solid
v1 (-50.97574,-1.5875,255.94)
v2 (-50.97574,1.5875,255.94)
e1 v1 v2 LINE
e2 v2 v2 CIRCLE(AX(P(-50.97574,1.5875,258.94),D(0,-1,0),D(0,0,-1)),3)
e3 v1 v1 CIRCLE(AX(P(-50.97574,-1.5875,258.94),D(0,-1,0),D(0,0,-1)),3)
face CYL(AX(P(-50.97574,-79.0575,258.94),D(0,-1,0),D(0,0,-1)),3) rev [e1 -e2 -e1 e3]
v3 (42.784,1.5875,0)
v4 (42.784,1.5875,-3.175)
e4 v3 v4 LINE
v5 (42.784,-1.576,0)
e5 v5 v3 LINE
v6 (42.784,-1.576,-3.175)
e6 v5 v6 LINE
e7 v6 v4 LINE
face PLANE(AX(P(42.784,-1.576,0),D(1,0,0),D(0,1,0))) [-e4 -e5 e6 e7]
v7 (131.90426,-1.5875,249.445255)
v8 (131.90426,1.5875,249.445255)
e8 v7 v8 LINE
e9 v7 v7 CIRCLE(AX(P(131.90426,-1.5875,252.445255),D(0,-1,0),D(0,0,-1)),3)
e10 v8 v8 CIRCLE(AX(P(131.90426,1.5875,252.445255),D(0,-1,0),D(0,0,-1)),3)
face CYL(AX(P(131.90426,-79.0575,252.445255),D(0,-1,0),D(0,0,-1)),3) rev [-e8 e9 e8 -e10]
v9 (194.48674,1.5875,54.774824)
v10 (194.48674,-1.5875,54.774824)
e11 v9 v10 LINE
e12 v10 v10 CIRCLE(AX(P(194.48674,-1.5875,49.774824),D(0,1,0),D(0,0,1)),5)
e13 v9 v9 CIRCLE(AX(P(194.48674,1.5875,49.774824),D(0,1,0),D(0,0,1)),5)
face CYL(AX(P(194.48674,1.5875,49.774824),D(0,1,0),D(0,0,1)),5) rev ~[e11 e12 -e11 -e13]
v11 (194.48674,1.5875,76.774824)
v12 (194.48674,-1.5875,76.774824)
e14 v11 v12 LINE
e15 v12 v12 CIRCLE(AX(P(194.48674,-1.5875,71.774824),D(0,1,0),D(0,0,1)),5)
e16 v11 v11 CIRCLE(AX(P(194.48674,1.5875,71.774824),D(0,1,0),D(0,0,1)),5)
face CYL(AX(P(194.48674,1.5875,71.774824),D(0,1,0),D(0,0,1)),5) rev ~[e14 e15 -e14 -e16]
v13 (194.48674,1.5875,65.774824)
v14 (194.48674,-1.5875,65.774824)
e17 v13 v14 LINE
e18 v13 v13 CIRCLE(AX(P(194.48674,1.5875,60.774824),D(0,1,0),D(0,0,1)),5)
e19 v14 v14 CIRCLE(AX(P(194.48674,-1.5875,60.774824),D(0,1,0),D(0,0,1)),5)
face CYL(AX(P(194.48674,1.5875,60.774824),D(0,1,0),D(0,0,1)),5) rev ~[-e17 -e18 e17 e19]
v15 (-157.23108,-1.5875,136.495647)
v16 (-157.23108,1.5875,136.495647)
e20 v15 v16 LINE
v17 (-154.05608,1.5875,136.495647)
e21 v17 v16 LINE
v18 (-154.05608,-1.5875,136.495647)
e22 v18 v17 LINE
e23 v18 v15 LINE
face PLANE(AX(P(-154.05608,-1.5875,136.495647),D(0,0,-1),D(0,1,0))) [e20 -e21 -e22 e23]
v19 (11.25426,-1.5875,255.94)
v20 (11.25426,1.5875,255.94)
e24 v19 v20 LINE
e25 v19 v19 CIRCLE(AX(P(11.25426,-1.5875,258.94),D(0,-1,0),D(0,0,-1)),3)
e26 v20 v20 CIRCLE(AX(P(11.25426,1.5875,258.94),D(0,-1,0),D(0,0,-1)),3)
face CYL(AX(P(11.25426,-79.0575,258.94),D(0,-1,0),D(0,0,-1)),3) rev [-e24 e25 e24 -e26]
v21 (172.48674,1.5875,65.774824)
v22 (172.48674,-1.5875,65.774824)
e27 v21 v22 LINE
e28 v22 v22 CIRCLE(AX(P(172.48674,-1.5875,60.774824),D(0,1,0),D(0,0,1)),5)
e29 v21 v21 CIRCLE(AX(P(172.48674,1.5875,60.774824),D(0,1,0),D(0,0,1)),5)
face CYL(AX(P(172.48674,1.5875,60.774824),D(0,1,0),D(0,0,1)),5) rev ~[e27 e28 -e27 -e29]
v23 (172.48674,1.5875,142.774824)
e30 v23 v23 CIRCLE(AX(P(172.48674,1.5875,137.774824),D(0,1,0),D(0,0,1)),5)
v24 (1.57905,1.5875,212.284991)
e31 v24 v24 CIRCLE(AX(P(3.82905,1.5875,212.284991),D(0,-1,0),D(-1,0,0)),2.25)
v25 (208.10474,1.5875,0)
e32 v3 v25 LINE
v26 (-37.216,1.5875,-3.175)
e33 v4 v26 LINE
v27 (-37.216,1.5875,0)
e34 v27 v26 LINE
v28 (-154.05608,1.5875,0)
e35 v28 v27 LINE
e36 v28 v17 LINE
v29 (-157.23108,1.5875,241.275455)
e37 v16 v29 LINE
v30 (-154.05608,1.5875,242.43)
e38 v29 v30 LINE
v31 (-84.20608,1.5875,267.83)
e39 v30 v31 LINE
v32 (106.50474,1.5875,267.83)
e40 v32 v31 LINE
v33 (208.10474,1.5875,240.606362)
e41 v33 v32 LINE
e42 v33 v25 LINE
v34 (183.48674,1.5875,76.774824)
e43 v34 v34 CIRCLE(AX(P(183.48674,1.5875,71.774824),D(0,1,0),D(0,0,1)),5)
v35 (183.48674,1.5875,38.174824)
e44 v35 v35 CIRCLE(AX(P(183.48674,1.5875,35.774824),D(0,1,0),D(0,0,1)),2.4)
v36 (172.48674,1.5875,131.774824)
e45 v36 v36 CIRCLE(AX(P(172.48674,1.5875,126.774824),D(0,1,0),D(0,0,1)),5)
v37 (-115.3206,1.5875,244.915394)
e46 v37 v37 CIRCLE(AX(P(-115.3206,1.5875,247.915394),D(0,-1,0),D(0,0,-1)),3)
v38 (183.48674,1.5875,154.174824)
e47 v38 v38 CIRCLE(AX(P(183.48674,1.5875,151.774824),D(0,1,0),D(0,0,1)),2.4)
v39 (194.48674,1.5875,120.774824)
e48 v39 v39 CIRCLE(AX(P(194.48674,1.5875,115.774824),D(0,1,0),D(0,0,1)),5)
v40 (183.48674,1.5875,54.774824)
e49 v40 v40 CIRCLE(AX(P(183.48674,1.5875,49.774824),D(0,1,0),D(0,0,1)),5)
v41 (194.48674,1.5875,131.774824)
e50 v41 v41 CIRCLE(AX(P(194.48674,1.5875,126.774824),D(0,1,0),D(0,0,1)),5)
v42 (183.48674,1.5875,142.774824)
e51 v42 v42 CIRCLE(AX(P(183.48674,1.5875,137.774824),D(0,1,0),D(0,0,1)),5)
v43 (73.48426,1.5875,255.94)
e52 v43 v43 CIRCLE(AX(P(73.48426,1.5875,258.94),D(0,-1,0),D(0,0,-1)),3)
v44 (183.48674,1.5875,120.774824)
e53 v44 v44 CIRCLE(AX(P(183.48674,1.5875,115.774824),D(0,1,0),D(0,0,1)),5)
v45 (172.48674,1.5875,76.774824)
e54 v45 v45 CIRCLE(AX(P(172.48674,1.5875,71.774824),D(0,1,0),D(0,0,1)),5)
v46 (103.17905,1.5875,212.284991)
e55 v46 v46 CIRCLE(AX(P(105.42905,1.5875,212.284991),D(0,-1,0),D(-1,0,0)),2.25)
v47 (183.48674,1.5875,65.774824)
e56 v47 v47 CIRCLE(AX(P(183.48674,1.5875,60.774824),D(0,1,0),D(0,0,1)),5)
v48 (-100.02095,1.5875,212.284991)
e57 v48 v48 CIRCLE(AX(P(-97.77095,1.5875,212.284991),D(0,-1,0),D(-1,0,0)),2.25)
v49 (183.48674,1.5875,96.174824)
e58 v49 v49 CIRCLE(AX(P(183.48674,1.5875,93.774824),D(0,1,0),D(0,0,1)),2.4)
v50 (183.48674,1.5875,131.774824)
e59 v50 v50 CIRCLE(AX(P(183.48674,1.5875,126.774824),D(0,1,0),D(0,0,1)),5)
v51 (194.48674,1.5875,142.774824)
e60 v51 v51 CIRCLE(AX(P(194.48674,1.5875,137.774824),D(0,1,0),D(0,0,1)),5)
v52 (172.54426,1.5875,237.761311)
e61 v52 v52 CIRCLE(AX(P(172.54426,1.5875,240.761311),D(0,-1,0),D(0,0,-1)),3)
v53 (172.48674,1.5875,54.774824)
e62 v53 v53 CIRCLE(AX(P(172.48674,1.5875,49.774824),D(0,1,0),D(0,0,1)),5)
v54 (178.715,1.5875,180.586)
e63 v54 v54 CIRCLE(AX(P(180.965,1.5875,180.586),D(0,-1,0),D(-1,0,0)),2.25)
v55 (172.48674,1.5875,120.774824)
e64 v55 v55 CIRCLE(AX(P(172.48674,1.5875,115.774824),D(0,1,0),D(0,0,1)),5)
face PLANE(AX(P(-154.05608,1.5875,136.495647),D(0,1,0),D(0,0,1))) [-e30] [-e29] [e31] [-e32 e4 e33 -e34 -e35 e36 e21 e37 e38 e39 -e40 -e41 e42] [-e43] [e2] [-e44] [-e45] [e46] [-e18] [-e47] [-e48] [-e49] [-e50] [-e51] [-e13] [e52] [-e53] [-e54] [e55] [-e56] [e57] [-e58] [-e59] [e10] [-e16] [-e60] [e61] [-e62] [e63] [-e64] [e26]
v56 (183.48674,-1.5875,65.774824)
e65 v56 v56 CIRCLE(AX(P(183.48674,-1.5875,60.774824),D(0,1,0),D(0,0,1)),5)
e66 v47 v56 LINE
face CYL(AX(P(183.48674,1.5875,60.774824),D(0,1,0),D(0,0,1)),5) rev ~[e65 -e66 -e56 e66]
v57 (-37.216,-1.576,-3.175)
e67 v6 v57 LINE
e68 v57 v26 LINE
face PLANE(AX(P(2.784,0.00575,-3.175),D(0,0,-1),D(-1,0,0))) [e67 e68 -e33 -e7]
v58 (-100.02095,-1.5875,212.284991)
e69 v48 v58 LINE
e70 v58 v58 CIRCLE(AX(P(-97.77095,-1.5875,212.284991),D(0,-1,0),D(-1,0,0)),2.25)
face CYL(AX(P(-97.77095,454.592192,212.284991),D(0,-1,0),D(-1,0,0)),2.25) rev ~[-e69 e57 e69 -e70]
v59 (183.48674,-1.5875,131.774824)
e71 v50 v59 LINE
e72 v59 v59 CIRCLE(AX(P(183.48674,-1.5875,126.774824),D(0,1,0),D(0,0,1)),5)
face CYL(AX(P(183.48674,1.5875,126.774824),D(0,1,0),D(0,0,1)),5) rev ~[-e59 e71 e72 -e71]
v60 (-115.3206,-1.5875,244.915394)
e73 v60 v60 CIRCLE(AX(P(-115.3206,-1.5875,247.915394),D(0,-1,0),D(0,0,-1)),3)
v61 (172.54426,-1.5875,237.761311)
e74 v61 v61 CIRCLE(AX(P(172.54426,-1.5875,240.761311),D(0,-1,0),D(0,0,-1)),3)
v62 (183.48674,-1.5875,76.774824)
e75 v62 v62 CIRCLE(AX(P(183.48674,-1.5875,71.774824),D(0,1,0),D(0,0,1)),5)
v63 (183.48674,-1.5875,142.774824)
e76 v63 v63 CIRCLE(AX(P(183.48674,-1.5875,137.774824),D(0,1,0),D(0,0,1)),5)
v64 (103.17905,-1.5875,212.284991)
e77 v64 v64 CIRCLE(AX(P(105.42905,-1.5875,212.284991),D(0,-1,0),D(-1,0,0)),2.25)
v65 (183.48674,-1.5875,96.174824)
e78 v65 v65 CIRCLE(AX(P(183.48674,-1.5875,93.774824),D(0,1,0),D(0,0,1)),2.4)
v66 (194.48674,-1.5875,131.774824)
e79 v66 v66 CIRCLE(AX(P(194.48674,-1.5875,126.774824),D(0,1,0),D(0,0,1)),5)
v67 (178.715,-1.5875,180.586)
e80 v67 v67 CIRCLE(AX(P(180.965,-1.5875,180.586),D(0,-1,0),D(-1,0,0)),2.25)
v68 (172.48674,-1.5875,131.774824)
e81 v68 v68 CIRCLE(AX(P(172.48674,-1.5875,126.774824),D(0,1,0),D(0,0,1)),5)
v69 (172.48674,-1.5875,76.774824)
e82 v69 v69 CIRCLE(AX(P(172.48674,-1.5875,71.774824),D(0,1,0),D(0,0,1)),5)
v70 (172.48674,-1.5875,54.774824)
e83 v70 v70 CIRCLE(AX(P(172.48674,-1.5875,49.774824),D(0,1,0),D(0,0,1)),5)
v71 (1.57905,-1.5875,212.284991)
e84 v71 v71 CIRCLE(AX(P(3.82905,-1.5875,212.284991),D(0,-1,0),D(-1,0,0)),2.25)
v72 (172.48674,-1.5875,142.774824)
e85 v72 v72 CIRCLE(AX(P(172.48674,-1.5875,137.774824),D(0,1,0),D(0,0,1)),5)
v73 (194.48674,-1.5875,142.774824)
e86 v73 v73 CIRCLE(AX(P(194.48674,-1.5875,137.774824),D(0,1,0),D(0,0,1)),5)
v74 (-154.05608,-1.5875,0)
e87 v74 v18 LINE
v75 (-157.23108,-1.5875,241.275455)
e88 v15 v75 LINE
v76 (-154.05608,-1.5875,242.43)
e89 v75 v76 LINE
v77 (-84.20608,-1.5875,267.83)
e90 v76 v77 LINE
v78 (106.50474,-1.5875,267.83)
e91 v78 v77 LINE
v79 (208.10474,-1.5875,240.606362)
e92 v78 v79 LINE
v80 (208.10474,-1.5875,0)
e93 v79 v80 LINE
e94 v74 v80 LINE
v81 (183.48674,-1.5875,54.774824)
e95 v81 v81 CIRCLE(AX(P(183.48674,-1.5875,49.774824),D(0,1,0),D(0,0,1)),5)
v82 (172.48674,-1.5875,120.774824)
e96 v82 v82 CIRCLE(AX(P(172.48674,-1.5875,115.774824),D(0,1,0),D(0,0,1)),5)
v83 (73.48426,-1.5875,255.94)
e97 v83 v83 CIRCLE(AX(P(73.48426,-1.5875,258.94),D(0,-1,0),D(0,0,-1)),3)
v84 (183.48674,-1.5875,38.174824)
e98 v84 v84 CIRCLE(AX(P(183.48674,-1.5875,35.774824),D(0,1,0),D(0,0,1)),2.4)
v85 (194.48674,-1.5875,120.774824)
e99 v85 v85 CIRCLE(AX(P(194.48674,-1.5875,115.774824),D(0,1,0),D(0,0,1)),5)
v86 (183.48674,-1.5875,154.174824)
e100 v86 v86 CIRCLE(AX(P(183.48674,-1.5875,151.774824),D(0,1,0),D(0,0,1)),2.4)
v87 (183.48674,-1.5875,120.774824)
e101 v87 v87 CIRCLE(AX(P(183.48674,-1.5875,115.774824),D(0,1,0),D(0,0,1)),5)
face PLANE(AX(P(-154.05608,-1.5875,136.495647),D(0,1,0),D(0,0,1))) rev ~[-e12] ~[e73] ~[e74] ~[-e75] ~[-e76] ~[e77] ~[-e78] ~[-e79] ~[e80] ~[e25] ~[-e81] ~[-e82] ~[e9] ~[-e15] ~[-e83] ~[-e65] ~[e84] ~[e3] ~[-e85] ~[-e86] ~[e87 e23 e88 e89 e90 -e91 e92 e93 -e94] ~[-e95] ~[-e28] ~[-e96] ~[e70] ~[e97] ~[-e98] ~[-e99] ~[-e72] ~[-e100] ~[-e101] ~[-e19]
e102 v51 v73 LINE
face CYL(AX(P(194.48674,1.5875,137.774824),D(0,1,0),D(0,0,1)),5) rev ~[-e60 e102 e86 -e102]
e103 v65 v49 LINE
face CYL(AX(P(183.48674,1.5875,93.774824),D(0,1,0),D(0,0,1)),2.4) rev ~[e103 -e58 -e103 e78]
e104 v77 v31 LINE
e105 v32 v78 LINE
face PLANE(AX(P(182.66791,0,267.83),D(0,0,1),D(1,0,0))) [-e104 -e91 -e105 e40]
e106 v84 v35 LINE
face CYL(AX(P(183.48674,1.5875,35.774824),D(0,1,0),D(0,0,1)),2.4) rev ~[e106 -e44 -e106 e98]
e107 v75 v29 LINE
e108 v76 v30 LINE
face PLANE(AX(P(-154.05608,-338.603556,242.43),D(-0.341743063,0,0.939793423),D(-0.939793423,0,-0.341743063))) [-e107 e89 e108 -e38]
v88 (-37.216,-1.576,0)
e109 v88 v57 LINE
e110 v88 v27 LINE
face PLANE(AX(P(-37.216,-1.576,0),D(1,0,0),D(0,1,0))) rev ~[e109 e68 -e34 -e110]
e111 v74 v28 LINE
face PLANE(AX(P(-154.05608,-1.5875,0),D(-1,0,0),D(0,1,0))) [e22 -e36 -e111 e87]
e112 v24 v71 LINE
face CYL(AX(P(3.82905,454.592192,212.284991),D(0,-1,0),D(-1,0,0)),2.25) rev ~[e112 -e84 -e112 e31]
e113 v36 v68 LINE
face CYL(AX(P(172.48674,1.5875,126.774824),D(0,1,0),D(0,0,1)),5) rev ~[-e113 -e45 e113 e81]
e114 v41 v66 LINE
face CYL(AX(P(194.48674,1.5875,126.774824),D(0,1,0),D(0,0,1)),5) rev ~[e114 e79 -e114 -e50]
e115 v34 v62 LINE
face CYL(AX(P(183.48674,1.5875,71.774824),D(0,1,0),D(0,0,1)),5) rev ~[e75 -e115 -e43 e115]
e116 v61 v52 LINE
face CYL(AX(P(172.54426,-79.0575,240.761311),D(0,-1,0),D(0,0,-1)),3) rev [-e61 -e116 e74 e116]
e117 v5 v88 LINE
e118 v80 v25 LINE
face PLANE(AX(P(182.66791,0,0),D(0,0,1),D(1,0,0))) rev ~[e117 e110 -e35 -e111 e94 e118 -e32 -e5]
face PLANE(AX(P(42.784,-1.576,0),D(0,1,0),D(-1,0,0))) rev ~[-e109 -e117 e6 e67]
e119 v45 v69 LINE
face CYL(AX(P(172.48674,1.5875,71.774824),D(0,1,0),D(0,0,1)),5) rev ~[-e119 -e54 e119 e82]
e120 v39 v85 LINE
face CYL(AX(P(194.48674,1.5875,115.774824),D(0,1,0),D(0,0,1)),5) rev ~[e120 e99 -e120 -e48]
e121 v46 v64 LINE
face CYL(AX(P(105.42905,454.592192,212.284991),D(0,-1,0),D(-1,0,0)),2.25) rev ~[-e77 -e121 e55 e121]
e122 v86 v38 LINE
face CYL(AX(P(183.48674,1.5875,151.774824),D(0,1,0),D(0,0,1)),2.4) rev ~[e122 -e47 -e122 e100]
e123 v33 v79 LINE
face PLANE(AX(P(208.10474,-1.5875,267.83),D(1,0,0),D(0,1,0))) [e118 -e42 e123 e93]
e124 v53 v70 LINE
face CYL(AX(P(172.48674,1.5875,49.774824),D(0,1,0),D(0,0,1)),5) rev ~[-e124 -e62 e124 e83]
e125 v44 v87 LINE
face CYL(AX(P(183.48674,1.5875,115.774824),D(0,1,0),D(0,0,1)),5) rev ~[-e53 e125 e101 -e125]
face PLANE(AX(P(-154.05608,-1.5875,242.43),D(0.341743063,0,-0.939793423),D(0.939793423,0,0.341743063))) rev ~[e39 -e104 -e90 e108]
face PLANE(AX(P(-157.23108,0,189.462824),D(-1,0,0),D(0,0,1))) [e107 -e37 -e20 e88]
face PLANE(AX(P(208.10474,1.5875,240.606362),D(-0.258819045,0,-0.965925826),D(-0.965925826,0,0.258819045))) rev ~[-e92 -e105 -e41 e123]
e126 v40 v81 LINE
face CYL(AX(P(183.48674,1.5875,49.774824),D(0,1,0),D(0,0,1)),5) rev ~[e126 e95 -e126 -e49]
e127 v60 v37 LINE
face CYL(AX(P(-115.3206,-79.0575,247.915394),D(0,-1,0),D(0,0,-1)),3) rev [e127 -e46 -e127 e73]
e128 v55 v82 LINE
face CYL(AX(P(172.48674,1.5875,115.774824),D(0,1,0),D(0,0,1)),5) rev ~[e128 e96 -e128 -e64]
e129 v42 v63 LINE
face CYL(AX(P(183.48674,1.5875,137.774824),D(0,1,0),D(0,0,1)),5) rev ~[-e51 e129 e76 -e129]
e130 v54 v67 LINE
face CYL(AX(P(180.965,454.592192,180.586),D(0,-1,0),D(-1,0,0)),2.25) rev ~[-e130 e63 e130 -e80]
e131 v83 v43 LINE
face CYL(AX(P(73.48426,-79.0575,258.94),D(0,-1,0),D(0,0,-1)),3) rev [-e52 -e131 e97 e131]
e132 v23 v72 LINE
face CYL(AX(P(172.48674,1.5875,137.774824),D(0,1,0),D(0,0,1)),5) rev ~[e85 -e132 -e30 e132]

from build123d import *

# Parameters (mm, degrees)
SKETCH1_W                 = 308.11216
SKETCH1_H                 = 3.175
BOSS_EXTRUDE1_DEPTH       = 267.83
SKETCH3_W                 = 267.83
SKETCH3_H                 = 3.175
BOSS_EXTRUDE3_DEPTH       = 3.175
SKETCH4_W                 = 50.87366
SKETCH4_H                 = 3.175
BOSS_EXTRUDE4_DEPTH       = 267.83
CUT_EXTRUDE1_DEPTH        = 340.191055801
CUT_EXTRUDE3_DEPTH        = 340.191055801
SKETCH19_R                = 5
CUT_EXTRUDE5_DEPTH        = 340.191055801
LPATTERN1_COUNT           = 3
LPATTERN1_PITCH           = 11
LPATTERN2_COUNT           = 3
LPATTERN2_PITCH           = 11
LPATTERN2_COPY_1_SKETCH_R = 5
LPATTERN2_COPY_1_DEPTH    = 340.191055801
LPATTERN2_COPY_2_SKETCH_R = 5
LPATTERN2_COPY_2_DEPTH    = 340.191055801
LPATTERN2_COPY_3_SKETCH_R = 5
LPATTERN2_COPY_3_DEPTH    = 340.191055801
LPATTERN2_COPY_4_SKETCH_R = 5
LPATTERN2_COPY_4_DEPTH    = 340.191055801
LPATTERN3_COUNT           = 2
LPATTERN3_PITCH           = 66
LPATTERN3_COPY_1_SKETCH_R = 5
LPATTERN3_COPY_1_DEPTH    = 340.191055801
LPATTERN3_COPY_2_SKETCH_R = 5
LPATTERN3_COPY_2_DEPTH    = 340.191055801
LPATTERN3_COPY_3_SKETCH_R = 5
LPATTERN3_COPY_3_DEPTH    = 340.191055801
LPATTERN3_COPY_4_SKETCH_R = 5
LPATTERN3_COPY_4_DEPTH    = 340.191055801
LPATTERN3_COPY_5_SKETCH_R = 5
LPATTERN3_COPY_5_DEPTH    = 340.191055801
LPATTERN3_COPY_6_SKETCH_R = 5
LPATTERN3_COPY_6_DEPTH    = 340.191055801
LPATTERN3_COPY_7_SKETCH_R = 5
LPATTERN3_COPY_7_DEPTH    = 340.191055801
LPATTERN3_COPY_8_SKETCH_R = 5
LPATTERN3_COPY_8_DEPTH    = 340.191055801
SKETCH21_W                = 105.9343525
SKETCH21_H                = 3.175
BOSS_EXTRUDE5_DEPTH       = 3.175
CUT_EXTRUDE9_DEPTH        = 340.191055801
CUT_EXTRUDE9_DEPTH_BACK   = 340.191055801
CUT_EXTRUDE11_DEPTH       = 340.191055801
CUT_EXTRUDE11_DEPTH_BACK  = 80.645
SKETCH32_R                = 3
M4_CLEARANCE_HOLE1_D      = 4.5
SKETCH35_W                = 80
SKETCH35_H                = 3.1635
BOSS_EXTRUDE6_DEPTH       = 3.175
SKETCH36_R                = 2.4
CUT_EXTRUDE12_DEPTH       = 340.191055801
LPATTERN4_COUNT           = 3
LPATTERN4_PITCH           = 58


with BuildPart() as part:
    # Sketch1 → Boss-Extrude1 (new body)
    with BuildSketch(Plane.XY):
        Rectangle(SKETCH1_W, SKETCH1_H)
    extrude(amount=BOSS_EXTRUDE1_DEPTH)

    # Sketch3 → Boss-Extrude3 (add)
    with BuildSketch(Plane(origin=(154.05608, 0, 0), x_dir=(0, 0, -1), z_dir=(1, 0, 0))):
        with Locations((-133.915, 0)):
            Rectangle(SKETCH3_W, SKETCH3_H)
    extrude(amount=BOSS_EXTRUDE3_DEPTH)

    # Sketch4 → Boss-Extrude4 (add)
    with BuildSketch(Plane.XY.offset(267.83)):
        with Locations((182.66791, 0)):
            Rectangle(SKETCH4_W, SKETCH4_H)
    extrude(amount=-BOSS_EXTRUDE4_DEPTH)

    # Sketch6 → Cut-Extrude1 (cut, through all)
    with BuildSketch(Plane(origin=(0, 1.5875, 0), x_dir=(1, 0, 0), z_dir=(0, 1, 0))):
        Polygon((208.10474, -240.606362049), (106.50474, -267.83), (208.10474, -267.83), align=None)
    extrude(amount=-CUT_EXTRUDE1_DEPTH, mode=Mode.SUBTRACT)

    # Sketch11 → Cut-Extrude3 (cut, through all)
    with BuildSketch(Plane.XZ.offset(1.5875)):
        Polygon((-154.05608, 242.43), (-84.20608, 267.83), (-154.05608, 267.83), align=None)
    extrude(amount=-CUT_EXTRUDE3_DEPTH, mode=Mode.SUBTRACT)

    # Sketch19 → Cut-Extrude5 (cut, through all)
    with BuildSketch(Plane(origin=(0, 1.5875, 0), x_dir=(1, 0, 0), z_dir=(0, 1, 0))):
        with Locations(Location((172.48674, -49.774823778, 0), (0, 0, 270))):
            Circle(SKETCH19_R)
    cut_extrude5 = extrude(amount=-CUT_EXTRUDE5_DEPTH, mode=Mode.SUBTRACT)

    # LPattern1: Cut-Extrude5 ×3
    with Locations(*[(i * LPATTERN1_PITCH, 0, 0) for i in range(1, LPATTERN1_COUNT)]):
        add(cut_extrude5, mode=Mode.SUBTRACT)

    # LPattern2: Cut-Extrude5 ×3
    with Locations(*[(0, 0, i * LPATTERN2_PITCH) for i in range(1, LPATTERN2_COUNT)]):
        add(cut_extrude5, mode=Mode.SUBTRACT)

    # LPattern2 copy 1 sketch → LPattern2 copy 1 (cut, through all)
    with BuildSketch(Plane(origin=(11, 1.5875, 11), x_dir=(1, 0, 0), z_dir=(0, 1, 0))):
        with Locations(Location((172.48674, -49.774823778, 0), (0, 0, 270))):
            Circle(LPATTERN2_COPY_1_SKETCH_R)
    extrude(amount=-LPATTERN2_COPY_1_DEPTH, mode=Mode.SUBTRACT)

    # LPattern2 copy 2 sketch → LPattern2 copy 2 (cut, through all)
    with BuildSketch(Plane(origin=(11, 1.5875, 22), x_dir=(1, 0, 0), z_dir=(0, 1, 0))):
        with Locations(Location((172.48674, -49.774823778, 0), (0, 0, 270))):
            Circle(LPATTERN2_COPY_2_SKETCH_R)
    extrude(amount=-LPATTERN2_COPY_2_DEPTH, mode=Mode.SUBTRACT)

    # LPattern2 copy 3 sketch → LPattern2 copy 3 (cut, through all)
    with BuildSketch(Plane(origin=(22, 1.5875, 11), x_dir=(1, 0, 0), z_dir=(0, 1, 0))):
        with Locations(Location((172.48674, -49.774823778, 0), (0, 0, 270))):
            Circle(LPATTERN2_COPY_3_SKETCH_R)
    extrude(amount=-LPATTERN2_COPY_3_DEPTH, mode=Mode.SUBTRACT)

    # LPattern2 copy 4 sketch → LPattern2 copy 4 (cut, through all)
    with BuildSketch(Plane(origin=(22, 1.5875, 22), x_dir=(1, 0, 0), z_dir=(0, 1, 0))):
        with Locations(Location((172.48674, -49.774823778, 0), (0, 0, 270))):
            Circle(LPATTERN2_COPY_4_SKETCH_R)
    extrude(amount=-LPATTERN2_COPY_4_DEPTH, mode=Mode.SUBTRACT)

    # LPattern3: Cut-Extrude5 ×2
    with Locations(*[(0, 0, i * LPATTERN3_PITCH) for i in range(1, LPATTERN3_COUNT)]):
        add(cut_extrude5, mode=Mode.SUBTRACT)

    # LPattern3 copy 1 sketch → LPattern3 copy 1 (cut, through all)
    with BuildSketch(Plane(origin=(11, 1.5875, 66), x_dir=(1, 0, 0), z_dir=(0, 1, 0))):
        with Locations(Location((172.48674, -49.774823778, 0), (0, 0, 270))):
            Circle(LPATTERN3_COPY_1_SKETCH_R)
    extrude(amount=-LPATTERN3_COPY_1_DEPTH, mode=Mode.SUBTRACT)

    # LPattern3 copy 2 sketch → LPattern3 copy 2 (cut, through all)
    with BuildSketch(Plane(origin=(22, 1.5875, 66), x_dir=(1, 0, 0), z_dir=(0, 1, 0))):
        with Locations(Location((172.48674, -49.774823778, 0), (0, 0, 270))):
            Circle(LPATTERN3_COPY_2_SKETCH_R)
    extrude(amount=-LPATTERN3_COPY_2_DEPTH, mode=Mode.SUBTRACT)

    # LPattern3 copy 3 sketch → LPattern3 copy 3 (cut, through all)
    with BuildSketch(Plane(origin=(0, 1.5875, 77), x_dir=(1, 0, 0), z_dir=(0, 1, 0))):
        with Locations(Location((172.48674, -49.774823778, 0), (0, 0, 270))):
            Circle(LPATTERN3_COPY_3_SKETCH_R)
    extrude(amount=-LPATTERN3_COPY_3_DEPTH, mode=Mode.SUBTRACT)

    # LPattern3 copy 4 sketch → LPattern3 copy 4 (cut, through all)
    with BuildSketch(Plane(origin=(0, 1.5875, 88), x_dir=(1, 0, 0), z_dir=(0, 1, 0))):
        with Locations(Location((172.48674, -49.774823778, 0), (0, 0, 270))):
            Circle(LPATTERN3_COPY_4_SKETCH_R)
    extrude(amount=-LPATTERN3_COPY_4_DEPTH, mode=Mode.SUBTRACT)

    # LPattern3 copy 5 sketch → LPattern3 copy 5 (cut, through all)
    with BuildSketch(Plane(origin=(11, 1.5875, 77), x_dir=(1, 0, 0), z_dir=(0, 1, 0))):
        with Locations(Location((172.48674, -49.774823778, 0), (0, 0, 270))):
            Circle(LPATTERN3_COPY_5_SKETCH_R)
    extrude(amount=-LPATTERN3_COPY_5_DEPTH, mode=Mode.SUBTRACT)

    # LPattern3 copy 6 sketch → LPattern3 copy 6 (cut, through all)
    with BuildSketch(Plane(origin=(11, 1.5875, 88), x_dir=(1, 0, 0), z_dir=(0, 1, 0))):
        with Locations(Location((172.48674, -49.774823778, 0), (0, 0, 270))):
            Circle(LPATTERN3_COPY_6_SKETCH_R)
    extrude(amount=-LPATTERN3_COPY_6_DEPTH, mode=Mode.SUBTRACT)

    # LPattern3 copy 7 sketch → LPattern3 copy 7 (cut, through all)
    with BuildSketch(Plane(origin=(22, 1.5875, 77), x_dir=(1, 0, 0), z_dir=(0, 1, 0))):
        with Locations(Location((172.48674, -49.774823778, 0), (0, 0, 270))):
            Circle(LPATTERN3_COPY_7_SKETCH_R)
    extrude(amount=-LPATTERN3_COPY_7_DEPTH, mode=Mode.SUBTRACT)

    # LPattern3 copy 8 sketch → LPattern3 copy 8 (cut, through all)
    with BuildSketch(Plane(origin=(22, 1.5875, 88), x_dir=(1, 0, 0), z_dir=(0, 1, 0))):
        with Locations(Location((172.48674, -49.774823778, 0), (0, 0, 270))):
            Circle(LPATTERN3_COPY_8_SKETCH_R)
    extrude(amount=-LPATTERN3_COPY_8_DEPTH, mode=Mode.SUBTRACT)

    # Sketch21 → Boss-Extrude5 (add)
    with BuildSketch(Plane.ZY.offset(154.05608)):
        with Locations((189.46282375, 0)):
            Rectangle(SKETCH21_W, SKETCH21_H)
    extrude(amount=BOSS_EXTRUDE5_DEPTH)

    # Sketch27 → Cut-Extrude9 (cut, two sides: drawn at the far end of the back side and taken through both)
    with BuildSketch(Plane(origin=(0, 1.5875, 0), x_dir=(1, 0, 0), z_dir=(0, 1, 0)).offset(-CUT_EXTRUDE9_DEPTH_BACK)):
        Polygon((748.107746333, -570.489573212), (-84.20608, -267.83), (-154.05608, -242.43), (-157.23108, -241.275454545), (-989.544906333, 61.384118666), (-1594.864052757, -1603.243534), (142.788599909, -2235.117225879), align=None)
    extrude(amount=CUT_EXTRUDE9_DEPTH + CUT_EXTRUDE9_DEPTH_BACK, mode=Mode.SUBTRACT)

    # Sketch32 → Cut-Extrude11 (cut, two sides: drawn at the far end of the back side and taken through both)
    with BuildSketch(Plane(origin=(0, 1.5875, 0), x_dir=(1, 0, 0), z_dir=(0, 1, 0)).offset(-CUT_EXTRUDE11_DEPTH_BACK)):
        with Locations(Location((172.54426, -240.761310541, 0), (0, 0, 90))):
            Circle(SKETCH32_R)
        with Locations(Location((131.90426, -252.445254824, 0), (0, 0, 90))):
            Circle(SKETCH32_R)
        with Locations(Location((73.48426, -258.94, 0), (0, 0, 90))):
            Circle(SKETCH32_R)
        with Locations(Location((11.25426, -258.94, 0), (0, 0, 90))):
            Circle(SKETCH32_R)
        with Locations(Location((-50.97574, -258.94, 0), (0, 0, 90))):
            Circle(SKETCH32_R)
        with Locations(Location((-115.3206, -247.915394364, 0), (0, 0, 90))):
            Circle(SKETCH32_R)
    extrude(amount=CUT_EXTRUDE11_DEPTH + CUT_EXTRUDE11_DEPTH_BACK, mode=Mode.SUBTRACT)

    # M4 Clearance Hole1 (through all)
    with Locations(Plane(origin=(0, 1.5875, 0), x_dir=(1, 0, 0), z_dir=(0, 1, 0))):
        with Locations((180.96500002, -180.586), (105.42905, -212.2849914), (3.82905, -212.2849914), (-97.77095, -212.2849914)):
            Hole(M4_CLEARANCE_HOLE1_D / 2)

    # Sketch35 → Boss-Extrude6 (add)
    with BuildSketch(Plane(origin=(0, 0, 0), x_dir=(-1, 0, 0), z_dir=(0, 0, -1))):
        with Locations((-2.78399998, 0.00575)):
            Rectangle(SKETCH35_W, SKETCH35_H)
    extrude(amount=BOSS_EXTRUDE6_DEPTH)

    # Sketch36 → Cut-Extrude12 (cut, symmetric)
    with BuildSketch(Plane(origin=(0, 1.5875, 0), x_dir=(1, 0, 0), z_dir=(0, 1, 0))):
        with Locations(Location((183.48674, -35.774823778, 0), (0, 0, 270))):
            Circle(SKETCH36_R)
    cut_extrude12 = extrude(amount=CUT_EXTRUDE12_DEPTH, both=True, mode=Mode.SUBTRACT)

    # LPattern4: Cut-Extrude12 ×3
    with Locations(*[(0, 0, i * LPATTERN4_PITCH) for i in range(1, LPATTERN4_COUNT)]):
        add(cut_extrude12, mode=Mode.SUBTRACT)


solid = part.part
